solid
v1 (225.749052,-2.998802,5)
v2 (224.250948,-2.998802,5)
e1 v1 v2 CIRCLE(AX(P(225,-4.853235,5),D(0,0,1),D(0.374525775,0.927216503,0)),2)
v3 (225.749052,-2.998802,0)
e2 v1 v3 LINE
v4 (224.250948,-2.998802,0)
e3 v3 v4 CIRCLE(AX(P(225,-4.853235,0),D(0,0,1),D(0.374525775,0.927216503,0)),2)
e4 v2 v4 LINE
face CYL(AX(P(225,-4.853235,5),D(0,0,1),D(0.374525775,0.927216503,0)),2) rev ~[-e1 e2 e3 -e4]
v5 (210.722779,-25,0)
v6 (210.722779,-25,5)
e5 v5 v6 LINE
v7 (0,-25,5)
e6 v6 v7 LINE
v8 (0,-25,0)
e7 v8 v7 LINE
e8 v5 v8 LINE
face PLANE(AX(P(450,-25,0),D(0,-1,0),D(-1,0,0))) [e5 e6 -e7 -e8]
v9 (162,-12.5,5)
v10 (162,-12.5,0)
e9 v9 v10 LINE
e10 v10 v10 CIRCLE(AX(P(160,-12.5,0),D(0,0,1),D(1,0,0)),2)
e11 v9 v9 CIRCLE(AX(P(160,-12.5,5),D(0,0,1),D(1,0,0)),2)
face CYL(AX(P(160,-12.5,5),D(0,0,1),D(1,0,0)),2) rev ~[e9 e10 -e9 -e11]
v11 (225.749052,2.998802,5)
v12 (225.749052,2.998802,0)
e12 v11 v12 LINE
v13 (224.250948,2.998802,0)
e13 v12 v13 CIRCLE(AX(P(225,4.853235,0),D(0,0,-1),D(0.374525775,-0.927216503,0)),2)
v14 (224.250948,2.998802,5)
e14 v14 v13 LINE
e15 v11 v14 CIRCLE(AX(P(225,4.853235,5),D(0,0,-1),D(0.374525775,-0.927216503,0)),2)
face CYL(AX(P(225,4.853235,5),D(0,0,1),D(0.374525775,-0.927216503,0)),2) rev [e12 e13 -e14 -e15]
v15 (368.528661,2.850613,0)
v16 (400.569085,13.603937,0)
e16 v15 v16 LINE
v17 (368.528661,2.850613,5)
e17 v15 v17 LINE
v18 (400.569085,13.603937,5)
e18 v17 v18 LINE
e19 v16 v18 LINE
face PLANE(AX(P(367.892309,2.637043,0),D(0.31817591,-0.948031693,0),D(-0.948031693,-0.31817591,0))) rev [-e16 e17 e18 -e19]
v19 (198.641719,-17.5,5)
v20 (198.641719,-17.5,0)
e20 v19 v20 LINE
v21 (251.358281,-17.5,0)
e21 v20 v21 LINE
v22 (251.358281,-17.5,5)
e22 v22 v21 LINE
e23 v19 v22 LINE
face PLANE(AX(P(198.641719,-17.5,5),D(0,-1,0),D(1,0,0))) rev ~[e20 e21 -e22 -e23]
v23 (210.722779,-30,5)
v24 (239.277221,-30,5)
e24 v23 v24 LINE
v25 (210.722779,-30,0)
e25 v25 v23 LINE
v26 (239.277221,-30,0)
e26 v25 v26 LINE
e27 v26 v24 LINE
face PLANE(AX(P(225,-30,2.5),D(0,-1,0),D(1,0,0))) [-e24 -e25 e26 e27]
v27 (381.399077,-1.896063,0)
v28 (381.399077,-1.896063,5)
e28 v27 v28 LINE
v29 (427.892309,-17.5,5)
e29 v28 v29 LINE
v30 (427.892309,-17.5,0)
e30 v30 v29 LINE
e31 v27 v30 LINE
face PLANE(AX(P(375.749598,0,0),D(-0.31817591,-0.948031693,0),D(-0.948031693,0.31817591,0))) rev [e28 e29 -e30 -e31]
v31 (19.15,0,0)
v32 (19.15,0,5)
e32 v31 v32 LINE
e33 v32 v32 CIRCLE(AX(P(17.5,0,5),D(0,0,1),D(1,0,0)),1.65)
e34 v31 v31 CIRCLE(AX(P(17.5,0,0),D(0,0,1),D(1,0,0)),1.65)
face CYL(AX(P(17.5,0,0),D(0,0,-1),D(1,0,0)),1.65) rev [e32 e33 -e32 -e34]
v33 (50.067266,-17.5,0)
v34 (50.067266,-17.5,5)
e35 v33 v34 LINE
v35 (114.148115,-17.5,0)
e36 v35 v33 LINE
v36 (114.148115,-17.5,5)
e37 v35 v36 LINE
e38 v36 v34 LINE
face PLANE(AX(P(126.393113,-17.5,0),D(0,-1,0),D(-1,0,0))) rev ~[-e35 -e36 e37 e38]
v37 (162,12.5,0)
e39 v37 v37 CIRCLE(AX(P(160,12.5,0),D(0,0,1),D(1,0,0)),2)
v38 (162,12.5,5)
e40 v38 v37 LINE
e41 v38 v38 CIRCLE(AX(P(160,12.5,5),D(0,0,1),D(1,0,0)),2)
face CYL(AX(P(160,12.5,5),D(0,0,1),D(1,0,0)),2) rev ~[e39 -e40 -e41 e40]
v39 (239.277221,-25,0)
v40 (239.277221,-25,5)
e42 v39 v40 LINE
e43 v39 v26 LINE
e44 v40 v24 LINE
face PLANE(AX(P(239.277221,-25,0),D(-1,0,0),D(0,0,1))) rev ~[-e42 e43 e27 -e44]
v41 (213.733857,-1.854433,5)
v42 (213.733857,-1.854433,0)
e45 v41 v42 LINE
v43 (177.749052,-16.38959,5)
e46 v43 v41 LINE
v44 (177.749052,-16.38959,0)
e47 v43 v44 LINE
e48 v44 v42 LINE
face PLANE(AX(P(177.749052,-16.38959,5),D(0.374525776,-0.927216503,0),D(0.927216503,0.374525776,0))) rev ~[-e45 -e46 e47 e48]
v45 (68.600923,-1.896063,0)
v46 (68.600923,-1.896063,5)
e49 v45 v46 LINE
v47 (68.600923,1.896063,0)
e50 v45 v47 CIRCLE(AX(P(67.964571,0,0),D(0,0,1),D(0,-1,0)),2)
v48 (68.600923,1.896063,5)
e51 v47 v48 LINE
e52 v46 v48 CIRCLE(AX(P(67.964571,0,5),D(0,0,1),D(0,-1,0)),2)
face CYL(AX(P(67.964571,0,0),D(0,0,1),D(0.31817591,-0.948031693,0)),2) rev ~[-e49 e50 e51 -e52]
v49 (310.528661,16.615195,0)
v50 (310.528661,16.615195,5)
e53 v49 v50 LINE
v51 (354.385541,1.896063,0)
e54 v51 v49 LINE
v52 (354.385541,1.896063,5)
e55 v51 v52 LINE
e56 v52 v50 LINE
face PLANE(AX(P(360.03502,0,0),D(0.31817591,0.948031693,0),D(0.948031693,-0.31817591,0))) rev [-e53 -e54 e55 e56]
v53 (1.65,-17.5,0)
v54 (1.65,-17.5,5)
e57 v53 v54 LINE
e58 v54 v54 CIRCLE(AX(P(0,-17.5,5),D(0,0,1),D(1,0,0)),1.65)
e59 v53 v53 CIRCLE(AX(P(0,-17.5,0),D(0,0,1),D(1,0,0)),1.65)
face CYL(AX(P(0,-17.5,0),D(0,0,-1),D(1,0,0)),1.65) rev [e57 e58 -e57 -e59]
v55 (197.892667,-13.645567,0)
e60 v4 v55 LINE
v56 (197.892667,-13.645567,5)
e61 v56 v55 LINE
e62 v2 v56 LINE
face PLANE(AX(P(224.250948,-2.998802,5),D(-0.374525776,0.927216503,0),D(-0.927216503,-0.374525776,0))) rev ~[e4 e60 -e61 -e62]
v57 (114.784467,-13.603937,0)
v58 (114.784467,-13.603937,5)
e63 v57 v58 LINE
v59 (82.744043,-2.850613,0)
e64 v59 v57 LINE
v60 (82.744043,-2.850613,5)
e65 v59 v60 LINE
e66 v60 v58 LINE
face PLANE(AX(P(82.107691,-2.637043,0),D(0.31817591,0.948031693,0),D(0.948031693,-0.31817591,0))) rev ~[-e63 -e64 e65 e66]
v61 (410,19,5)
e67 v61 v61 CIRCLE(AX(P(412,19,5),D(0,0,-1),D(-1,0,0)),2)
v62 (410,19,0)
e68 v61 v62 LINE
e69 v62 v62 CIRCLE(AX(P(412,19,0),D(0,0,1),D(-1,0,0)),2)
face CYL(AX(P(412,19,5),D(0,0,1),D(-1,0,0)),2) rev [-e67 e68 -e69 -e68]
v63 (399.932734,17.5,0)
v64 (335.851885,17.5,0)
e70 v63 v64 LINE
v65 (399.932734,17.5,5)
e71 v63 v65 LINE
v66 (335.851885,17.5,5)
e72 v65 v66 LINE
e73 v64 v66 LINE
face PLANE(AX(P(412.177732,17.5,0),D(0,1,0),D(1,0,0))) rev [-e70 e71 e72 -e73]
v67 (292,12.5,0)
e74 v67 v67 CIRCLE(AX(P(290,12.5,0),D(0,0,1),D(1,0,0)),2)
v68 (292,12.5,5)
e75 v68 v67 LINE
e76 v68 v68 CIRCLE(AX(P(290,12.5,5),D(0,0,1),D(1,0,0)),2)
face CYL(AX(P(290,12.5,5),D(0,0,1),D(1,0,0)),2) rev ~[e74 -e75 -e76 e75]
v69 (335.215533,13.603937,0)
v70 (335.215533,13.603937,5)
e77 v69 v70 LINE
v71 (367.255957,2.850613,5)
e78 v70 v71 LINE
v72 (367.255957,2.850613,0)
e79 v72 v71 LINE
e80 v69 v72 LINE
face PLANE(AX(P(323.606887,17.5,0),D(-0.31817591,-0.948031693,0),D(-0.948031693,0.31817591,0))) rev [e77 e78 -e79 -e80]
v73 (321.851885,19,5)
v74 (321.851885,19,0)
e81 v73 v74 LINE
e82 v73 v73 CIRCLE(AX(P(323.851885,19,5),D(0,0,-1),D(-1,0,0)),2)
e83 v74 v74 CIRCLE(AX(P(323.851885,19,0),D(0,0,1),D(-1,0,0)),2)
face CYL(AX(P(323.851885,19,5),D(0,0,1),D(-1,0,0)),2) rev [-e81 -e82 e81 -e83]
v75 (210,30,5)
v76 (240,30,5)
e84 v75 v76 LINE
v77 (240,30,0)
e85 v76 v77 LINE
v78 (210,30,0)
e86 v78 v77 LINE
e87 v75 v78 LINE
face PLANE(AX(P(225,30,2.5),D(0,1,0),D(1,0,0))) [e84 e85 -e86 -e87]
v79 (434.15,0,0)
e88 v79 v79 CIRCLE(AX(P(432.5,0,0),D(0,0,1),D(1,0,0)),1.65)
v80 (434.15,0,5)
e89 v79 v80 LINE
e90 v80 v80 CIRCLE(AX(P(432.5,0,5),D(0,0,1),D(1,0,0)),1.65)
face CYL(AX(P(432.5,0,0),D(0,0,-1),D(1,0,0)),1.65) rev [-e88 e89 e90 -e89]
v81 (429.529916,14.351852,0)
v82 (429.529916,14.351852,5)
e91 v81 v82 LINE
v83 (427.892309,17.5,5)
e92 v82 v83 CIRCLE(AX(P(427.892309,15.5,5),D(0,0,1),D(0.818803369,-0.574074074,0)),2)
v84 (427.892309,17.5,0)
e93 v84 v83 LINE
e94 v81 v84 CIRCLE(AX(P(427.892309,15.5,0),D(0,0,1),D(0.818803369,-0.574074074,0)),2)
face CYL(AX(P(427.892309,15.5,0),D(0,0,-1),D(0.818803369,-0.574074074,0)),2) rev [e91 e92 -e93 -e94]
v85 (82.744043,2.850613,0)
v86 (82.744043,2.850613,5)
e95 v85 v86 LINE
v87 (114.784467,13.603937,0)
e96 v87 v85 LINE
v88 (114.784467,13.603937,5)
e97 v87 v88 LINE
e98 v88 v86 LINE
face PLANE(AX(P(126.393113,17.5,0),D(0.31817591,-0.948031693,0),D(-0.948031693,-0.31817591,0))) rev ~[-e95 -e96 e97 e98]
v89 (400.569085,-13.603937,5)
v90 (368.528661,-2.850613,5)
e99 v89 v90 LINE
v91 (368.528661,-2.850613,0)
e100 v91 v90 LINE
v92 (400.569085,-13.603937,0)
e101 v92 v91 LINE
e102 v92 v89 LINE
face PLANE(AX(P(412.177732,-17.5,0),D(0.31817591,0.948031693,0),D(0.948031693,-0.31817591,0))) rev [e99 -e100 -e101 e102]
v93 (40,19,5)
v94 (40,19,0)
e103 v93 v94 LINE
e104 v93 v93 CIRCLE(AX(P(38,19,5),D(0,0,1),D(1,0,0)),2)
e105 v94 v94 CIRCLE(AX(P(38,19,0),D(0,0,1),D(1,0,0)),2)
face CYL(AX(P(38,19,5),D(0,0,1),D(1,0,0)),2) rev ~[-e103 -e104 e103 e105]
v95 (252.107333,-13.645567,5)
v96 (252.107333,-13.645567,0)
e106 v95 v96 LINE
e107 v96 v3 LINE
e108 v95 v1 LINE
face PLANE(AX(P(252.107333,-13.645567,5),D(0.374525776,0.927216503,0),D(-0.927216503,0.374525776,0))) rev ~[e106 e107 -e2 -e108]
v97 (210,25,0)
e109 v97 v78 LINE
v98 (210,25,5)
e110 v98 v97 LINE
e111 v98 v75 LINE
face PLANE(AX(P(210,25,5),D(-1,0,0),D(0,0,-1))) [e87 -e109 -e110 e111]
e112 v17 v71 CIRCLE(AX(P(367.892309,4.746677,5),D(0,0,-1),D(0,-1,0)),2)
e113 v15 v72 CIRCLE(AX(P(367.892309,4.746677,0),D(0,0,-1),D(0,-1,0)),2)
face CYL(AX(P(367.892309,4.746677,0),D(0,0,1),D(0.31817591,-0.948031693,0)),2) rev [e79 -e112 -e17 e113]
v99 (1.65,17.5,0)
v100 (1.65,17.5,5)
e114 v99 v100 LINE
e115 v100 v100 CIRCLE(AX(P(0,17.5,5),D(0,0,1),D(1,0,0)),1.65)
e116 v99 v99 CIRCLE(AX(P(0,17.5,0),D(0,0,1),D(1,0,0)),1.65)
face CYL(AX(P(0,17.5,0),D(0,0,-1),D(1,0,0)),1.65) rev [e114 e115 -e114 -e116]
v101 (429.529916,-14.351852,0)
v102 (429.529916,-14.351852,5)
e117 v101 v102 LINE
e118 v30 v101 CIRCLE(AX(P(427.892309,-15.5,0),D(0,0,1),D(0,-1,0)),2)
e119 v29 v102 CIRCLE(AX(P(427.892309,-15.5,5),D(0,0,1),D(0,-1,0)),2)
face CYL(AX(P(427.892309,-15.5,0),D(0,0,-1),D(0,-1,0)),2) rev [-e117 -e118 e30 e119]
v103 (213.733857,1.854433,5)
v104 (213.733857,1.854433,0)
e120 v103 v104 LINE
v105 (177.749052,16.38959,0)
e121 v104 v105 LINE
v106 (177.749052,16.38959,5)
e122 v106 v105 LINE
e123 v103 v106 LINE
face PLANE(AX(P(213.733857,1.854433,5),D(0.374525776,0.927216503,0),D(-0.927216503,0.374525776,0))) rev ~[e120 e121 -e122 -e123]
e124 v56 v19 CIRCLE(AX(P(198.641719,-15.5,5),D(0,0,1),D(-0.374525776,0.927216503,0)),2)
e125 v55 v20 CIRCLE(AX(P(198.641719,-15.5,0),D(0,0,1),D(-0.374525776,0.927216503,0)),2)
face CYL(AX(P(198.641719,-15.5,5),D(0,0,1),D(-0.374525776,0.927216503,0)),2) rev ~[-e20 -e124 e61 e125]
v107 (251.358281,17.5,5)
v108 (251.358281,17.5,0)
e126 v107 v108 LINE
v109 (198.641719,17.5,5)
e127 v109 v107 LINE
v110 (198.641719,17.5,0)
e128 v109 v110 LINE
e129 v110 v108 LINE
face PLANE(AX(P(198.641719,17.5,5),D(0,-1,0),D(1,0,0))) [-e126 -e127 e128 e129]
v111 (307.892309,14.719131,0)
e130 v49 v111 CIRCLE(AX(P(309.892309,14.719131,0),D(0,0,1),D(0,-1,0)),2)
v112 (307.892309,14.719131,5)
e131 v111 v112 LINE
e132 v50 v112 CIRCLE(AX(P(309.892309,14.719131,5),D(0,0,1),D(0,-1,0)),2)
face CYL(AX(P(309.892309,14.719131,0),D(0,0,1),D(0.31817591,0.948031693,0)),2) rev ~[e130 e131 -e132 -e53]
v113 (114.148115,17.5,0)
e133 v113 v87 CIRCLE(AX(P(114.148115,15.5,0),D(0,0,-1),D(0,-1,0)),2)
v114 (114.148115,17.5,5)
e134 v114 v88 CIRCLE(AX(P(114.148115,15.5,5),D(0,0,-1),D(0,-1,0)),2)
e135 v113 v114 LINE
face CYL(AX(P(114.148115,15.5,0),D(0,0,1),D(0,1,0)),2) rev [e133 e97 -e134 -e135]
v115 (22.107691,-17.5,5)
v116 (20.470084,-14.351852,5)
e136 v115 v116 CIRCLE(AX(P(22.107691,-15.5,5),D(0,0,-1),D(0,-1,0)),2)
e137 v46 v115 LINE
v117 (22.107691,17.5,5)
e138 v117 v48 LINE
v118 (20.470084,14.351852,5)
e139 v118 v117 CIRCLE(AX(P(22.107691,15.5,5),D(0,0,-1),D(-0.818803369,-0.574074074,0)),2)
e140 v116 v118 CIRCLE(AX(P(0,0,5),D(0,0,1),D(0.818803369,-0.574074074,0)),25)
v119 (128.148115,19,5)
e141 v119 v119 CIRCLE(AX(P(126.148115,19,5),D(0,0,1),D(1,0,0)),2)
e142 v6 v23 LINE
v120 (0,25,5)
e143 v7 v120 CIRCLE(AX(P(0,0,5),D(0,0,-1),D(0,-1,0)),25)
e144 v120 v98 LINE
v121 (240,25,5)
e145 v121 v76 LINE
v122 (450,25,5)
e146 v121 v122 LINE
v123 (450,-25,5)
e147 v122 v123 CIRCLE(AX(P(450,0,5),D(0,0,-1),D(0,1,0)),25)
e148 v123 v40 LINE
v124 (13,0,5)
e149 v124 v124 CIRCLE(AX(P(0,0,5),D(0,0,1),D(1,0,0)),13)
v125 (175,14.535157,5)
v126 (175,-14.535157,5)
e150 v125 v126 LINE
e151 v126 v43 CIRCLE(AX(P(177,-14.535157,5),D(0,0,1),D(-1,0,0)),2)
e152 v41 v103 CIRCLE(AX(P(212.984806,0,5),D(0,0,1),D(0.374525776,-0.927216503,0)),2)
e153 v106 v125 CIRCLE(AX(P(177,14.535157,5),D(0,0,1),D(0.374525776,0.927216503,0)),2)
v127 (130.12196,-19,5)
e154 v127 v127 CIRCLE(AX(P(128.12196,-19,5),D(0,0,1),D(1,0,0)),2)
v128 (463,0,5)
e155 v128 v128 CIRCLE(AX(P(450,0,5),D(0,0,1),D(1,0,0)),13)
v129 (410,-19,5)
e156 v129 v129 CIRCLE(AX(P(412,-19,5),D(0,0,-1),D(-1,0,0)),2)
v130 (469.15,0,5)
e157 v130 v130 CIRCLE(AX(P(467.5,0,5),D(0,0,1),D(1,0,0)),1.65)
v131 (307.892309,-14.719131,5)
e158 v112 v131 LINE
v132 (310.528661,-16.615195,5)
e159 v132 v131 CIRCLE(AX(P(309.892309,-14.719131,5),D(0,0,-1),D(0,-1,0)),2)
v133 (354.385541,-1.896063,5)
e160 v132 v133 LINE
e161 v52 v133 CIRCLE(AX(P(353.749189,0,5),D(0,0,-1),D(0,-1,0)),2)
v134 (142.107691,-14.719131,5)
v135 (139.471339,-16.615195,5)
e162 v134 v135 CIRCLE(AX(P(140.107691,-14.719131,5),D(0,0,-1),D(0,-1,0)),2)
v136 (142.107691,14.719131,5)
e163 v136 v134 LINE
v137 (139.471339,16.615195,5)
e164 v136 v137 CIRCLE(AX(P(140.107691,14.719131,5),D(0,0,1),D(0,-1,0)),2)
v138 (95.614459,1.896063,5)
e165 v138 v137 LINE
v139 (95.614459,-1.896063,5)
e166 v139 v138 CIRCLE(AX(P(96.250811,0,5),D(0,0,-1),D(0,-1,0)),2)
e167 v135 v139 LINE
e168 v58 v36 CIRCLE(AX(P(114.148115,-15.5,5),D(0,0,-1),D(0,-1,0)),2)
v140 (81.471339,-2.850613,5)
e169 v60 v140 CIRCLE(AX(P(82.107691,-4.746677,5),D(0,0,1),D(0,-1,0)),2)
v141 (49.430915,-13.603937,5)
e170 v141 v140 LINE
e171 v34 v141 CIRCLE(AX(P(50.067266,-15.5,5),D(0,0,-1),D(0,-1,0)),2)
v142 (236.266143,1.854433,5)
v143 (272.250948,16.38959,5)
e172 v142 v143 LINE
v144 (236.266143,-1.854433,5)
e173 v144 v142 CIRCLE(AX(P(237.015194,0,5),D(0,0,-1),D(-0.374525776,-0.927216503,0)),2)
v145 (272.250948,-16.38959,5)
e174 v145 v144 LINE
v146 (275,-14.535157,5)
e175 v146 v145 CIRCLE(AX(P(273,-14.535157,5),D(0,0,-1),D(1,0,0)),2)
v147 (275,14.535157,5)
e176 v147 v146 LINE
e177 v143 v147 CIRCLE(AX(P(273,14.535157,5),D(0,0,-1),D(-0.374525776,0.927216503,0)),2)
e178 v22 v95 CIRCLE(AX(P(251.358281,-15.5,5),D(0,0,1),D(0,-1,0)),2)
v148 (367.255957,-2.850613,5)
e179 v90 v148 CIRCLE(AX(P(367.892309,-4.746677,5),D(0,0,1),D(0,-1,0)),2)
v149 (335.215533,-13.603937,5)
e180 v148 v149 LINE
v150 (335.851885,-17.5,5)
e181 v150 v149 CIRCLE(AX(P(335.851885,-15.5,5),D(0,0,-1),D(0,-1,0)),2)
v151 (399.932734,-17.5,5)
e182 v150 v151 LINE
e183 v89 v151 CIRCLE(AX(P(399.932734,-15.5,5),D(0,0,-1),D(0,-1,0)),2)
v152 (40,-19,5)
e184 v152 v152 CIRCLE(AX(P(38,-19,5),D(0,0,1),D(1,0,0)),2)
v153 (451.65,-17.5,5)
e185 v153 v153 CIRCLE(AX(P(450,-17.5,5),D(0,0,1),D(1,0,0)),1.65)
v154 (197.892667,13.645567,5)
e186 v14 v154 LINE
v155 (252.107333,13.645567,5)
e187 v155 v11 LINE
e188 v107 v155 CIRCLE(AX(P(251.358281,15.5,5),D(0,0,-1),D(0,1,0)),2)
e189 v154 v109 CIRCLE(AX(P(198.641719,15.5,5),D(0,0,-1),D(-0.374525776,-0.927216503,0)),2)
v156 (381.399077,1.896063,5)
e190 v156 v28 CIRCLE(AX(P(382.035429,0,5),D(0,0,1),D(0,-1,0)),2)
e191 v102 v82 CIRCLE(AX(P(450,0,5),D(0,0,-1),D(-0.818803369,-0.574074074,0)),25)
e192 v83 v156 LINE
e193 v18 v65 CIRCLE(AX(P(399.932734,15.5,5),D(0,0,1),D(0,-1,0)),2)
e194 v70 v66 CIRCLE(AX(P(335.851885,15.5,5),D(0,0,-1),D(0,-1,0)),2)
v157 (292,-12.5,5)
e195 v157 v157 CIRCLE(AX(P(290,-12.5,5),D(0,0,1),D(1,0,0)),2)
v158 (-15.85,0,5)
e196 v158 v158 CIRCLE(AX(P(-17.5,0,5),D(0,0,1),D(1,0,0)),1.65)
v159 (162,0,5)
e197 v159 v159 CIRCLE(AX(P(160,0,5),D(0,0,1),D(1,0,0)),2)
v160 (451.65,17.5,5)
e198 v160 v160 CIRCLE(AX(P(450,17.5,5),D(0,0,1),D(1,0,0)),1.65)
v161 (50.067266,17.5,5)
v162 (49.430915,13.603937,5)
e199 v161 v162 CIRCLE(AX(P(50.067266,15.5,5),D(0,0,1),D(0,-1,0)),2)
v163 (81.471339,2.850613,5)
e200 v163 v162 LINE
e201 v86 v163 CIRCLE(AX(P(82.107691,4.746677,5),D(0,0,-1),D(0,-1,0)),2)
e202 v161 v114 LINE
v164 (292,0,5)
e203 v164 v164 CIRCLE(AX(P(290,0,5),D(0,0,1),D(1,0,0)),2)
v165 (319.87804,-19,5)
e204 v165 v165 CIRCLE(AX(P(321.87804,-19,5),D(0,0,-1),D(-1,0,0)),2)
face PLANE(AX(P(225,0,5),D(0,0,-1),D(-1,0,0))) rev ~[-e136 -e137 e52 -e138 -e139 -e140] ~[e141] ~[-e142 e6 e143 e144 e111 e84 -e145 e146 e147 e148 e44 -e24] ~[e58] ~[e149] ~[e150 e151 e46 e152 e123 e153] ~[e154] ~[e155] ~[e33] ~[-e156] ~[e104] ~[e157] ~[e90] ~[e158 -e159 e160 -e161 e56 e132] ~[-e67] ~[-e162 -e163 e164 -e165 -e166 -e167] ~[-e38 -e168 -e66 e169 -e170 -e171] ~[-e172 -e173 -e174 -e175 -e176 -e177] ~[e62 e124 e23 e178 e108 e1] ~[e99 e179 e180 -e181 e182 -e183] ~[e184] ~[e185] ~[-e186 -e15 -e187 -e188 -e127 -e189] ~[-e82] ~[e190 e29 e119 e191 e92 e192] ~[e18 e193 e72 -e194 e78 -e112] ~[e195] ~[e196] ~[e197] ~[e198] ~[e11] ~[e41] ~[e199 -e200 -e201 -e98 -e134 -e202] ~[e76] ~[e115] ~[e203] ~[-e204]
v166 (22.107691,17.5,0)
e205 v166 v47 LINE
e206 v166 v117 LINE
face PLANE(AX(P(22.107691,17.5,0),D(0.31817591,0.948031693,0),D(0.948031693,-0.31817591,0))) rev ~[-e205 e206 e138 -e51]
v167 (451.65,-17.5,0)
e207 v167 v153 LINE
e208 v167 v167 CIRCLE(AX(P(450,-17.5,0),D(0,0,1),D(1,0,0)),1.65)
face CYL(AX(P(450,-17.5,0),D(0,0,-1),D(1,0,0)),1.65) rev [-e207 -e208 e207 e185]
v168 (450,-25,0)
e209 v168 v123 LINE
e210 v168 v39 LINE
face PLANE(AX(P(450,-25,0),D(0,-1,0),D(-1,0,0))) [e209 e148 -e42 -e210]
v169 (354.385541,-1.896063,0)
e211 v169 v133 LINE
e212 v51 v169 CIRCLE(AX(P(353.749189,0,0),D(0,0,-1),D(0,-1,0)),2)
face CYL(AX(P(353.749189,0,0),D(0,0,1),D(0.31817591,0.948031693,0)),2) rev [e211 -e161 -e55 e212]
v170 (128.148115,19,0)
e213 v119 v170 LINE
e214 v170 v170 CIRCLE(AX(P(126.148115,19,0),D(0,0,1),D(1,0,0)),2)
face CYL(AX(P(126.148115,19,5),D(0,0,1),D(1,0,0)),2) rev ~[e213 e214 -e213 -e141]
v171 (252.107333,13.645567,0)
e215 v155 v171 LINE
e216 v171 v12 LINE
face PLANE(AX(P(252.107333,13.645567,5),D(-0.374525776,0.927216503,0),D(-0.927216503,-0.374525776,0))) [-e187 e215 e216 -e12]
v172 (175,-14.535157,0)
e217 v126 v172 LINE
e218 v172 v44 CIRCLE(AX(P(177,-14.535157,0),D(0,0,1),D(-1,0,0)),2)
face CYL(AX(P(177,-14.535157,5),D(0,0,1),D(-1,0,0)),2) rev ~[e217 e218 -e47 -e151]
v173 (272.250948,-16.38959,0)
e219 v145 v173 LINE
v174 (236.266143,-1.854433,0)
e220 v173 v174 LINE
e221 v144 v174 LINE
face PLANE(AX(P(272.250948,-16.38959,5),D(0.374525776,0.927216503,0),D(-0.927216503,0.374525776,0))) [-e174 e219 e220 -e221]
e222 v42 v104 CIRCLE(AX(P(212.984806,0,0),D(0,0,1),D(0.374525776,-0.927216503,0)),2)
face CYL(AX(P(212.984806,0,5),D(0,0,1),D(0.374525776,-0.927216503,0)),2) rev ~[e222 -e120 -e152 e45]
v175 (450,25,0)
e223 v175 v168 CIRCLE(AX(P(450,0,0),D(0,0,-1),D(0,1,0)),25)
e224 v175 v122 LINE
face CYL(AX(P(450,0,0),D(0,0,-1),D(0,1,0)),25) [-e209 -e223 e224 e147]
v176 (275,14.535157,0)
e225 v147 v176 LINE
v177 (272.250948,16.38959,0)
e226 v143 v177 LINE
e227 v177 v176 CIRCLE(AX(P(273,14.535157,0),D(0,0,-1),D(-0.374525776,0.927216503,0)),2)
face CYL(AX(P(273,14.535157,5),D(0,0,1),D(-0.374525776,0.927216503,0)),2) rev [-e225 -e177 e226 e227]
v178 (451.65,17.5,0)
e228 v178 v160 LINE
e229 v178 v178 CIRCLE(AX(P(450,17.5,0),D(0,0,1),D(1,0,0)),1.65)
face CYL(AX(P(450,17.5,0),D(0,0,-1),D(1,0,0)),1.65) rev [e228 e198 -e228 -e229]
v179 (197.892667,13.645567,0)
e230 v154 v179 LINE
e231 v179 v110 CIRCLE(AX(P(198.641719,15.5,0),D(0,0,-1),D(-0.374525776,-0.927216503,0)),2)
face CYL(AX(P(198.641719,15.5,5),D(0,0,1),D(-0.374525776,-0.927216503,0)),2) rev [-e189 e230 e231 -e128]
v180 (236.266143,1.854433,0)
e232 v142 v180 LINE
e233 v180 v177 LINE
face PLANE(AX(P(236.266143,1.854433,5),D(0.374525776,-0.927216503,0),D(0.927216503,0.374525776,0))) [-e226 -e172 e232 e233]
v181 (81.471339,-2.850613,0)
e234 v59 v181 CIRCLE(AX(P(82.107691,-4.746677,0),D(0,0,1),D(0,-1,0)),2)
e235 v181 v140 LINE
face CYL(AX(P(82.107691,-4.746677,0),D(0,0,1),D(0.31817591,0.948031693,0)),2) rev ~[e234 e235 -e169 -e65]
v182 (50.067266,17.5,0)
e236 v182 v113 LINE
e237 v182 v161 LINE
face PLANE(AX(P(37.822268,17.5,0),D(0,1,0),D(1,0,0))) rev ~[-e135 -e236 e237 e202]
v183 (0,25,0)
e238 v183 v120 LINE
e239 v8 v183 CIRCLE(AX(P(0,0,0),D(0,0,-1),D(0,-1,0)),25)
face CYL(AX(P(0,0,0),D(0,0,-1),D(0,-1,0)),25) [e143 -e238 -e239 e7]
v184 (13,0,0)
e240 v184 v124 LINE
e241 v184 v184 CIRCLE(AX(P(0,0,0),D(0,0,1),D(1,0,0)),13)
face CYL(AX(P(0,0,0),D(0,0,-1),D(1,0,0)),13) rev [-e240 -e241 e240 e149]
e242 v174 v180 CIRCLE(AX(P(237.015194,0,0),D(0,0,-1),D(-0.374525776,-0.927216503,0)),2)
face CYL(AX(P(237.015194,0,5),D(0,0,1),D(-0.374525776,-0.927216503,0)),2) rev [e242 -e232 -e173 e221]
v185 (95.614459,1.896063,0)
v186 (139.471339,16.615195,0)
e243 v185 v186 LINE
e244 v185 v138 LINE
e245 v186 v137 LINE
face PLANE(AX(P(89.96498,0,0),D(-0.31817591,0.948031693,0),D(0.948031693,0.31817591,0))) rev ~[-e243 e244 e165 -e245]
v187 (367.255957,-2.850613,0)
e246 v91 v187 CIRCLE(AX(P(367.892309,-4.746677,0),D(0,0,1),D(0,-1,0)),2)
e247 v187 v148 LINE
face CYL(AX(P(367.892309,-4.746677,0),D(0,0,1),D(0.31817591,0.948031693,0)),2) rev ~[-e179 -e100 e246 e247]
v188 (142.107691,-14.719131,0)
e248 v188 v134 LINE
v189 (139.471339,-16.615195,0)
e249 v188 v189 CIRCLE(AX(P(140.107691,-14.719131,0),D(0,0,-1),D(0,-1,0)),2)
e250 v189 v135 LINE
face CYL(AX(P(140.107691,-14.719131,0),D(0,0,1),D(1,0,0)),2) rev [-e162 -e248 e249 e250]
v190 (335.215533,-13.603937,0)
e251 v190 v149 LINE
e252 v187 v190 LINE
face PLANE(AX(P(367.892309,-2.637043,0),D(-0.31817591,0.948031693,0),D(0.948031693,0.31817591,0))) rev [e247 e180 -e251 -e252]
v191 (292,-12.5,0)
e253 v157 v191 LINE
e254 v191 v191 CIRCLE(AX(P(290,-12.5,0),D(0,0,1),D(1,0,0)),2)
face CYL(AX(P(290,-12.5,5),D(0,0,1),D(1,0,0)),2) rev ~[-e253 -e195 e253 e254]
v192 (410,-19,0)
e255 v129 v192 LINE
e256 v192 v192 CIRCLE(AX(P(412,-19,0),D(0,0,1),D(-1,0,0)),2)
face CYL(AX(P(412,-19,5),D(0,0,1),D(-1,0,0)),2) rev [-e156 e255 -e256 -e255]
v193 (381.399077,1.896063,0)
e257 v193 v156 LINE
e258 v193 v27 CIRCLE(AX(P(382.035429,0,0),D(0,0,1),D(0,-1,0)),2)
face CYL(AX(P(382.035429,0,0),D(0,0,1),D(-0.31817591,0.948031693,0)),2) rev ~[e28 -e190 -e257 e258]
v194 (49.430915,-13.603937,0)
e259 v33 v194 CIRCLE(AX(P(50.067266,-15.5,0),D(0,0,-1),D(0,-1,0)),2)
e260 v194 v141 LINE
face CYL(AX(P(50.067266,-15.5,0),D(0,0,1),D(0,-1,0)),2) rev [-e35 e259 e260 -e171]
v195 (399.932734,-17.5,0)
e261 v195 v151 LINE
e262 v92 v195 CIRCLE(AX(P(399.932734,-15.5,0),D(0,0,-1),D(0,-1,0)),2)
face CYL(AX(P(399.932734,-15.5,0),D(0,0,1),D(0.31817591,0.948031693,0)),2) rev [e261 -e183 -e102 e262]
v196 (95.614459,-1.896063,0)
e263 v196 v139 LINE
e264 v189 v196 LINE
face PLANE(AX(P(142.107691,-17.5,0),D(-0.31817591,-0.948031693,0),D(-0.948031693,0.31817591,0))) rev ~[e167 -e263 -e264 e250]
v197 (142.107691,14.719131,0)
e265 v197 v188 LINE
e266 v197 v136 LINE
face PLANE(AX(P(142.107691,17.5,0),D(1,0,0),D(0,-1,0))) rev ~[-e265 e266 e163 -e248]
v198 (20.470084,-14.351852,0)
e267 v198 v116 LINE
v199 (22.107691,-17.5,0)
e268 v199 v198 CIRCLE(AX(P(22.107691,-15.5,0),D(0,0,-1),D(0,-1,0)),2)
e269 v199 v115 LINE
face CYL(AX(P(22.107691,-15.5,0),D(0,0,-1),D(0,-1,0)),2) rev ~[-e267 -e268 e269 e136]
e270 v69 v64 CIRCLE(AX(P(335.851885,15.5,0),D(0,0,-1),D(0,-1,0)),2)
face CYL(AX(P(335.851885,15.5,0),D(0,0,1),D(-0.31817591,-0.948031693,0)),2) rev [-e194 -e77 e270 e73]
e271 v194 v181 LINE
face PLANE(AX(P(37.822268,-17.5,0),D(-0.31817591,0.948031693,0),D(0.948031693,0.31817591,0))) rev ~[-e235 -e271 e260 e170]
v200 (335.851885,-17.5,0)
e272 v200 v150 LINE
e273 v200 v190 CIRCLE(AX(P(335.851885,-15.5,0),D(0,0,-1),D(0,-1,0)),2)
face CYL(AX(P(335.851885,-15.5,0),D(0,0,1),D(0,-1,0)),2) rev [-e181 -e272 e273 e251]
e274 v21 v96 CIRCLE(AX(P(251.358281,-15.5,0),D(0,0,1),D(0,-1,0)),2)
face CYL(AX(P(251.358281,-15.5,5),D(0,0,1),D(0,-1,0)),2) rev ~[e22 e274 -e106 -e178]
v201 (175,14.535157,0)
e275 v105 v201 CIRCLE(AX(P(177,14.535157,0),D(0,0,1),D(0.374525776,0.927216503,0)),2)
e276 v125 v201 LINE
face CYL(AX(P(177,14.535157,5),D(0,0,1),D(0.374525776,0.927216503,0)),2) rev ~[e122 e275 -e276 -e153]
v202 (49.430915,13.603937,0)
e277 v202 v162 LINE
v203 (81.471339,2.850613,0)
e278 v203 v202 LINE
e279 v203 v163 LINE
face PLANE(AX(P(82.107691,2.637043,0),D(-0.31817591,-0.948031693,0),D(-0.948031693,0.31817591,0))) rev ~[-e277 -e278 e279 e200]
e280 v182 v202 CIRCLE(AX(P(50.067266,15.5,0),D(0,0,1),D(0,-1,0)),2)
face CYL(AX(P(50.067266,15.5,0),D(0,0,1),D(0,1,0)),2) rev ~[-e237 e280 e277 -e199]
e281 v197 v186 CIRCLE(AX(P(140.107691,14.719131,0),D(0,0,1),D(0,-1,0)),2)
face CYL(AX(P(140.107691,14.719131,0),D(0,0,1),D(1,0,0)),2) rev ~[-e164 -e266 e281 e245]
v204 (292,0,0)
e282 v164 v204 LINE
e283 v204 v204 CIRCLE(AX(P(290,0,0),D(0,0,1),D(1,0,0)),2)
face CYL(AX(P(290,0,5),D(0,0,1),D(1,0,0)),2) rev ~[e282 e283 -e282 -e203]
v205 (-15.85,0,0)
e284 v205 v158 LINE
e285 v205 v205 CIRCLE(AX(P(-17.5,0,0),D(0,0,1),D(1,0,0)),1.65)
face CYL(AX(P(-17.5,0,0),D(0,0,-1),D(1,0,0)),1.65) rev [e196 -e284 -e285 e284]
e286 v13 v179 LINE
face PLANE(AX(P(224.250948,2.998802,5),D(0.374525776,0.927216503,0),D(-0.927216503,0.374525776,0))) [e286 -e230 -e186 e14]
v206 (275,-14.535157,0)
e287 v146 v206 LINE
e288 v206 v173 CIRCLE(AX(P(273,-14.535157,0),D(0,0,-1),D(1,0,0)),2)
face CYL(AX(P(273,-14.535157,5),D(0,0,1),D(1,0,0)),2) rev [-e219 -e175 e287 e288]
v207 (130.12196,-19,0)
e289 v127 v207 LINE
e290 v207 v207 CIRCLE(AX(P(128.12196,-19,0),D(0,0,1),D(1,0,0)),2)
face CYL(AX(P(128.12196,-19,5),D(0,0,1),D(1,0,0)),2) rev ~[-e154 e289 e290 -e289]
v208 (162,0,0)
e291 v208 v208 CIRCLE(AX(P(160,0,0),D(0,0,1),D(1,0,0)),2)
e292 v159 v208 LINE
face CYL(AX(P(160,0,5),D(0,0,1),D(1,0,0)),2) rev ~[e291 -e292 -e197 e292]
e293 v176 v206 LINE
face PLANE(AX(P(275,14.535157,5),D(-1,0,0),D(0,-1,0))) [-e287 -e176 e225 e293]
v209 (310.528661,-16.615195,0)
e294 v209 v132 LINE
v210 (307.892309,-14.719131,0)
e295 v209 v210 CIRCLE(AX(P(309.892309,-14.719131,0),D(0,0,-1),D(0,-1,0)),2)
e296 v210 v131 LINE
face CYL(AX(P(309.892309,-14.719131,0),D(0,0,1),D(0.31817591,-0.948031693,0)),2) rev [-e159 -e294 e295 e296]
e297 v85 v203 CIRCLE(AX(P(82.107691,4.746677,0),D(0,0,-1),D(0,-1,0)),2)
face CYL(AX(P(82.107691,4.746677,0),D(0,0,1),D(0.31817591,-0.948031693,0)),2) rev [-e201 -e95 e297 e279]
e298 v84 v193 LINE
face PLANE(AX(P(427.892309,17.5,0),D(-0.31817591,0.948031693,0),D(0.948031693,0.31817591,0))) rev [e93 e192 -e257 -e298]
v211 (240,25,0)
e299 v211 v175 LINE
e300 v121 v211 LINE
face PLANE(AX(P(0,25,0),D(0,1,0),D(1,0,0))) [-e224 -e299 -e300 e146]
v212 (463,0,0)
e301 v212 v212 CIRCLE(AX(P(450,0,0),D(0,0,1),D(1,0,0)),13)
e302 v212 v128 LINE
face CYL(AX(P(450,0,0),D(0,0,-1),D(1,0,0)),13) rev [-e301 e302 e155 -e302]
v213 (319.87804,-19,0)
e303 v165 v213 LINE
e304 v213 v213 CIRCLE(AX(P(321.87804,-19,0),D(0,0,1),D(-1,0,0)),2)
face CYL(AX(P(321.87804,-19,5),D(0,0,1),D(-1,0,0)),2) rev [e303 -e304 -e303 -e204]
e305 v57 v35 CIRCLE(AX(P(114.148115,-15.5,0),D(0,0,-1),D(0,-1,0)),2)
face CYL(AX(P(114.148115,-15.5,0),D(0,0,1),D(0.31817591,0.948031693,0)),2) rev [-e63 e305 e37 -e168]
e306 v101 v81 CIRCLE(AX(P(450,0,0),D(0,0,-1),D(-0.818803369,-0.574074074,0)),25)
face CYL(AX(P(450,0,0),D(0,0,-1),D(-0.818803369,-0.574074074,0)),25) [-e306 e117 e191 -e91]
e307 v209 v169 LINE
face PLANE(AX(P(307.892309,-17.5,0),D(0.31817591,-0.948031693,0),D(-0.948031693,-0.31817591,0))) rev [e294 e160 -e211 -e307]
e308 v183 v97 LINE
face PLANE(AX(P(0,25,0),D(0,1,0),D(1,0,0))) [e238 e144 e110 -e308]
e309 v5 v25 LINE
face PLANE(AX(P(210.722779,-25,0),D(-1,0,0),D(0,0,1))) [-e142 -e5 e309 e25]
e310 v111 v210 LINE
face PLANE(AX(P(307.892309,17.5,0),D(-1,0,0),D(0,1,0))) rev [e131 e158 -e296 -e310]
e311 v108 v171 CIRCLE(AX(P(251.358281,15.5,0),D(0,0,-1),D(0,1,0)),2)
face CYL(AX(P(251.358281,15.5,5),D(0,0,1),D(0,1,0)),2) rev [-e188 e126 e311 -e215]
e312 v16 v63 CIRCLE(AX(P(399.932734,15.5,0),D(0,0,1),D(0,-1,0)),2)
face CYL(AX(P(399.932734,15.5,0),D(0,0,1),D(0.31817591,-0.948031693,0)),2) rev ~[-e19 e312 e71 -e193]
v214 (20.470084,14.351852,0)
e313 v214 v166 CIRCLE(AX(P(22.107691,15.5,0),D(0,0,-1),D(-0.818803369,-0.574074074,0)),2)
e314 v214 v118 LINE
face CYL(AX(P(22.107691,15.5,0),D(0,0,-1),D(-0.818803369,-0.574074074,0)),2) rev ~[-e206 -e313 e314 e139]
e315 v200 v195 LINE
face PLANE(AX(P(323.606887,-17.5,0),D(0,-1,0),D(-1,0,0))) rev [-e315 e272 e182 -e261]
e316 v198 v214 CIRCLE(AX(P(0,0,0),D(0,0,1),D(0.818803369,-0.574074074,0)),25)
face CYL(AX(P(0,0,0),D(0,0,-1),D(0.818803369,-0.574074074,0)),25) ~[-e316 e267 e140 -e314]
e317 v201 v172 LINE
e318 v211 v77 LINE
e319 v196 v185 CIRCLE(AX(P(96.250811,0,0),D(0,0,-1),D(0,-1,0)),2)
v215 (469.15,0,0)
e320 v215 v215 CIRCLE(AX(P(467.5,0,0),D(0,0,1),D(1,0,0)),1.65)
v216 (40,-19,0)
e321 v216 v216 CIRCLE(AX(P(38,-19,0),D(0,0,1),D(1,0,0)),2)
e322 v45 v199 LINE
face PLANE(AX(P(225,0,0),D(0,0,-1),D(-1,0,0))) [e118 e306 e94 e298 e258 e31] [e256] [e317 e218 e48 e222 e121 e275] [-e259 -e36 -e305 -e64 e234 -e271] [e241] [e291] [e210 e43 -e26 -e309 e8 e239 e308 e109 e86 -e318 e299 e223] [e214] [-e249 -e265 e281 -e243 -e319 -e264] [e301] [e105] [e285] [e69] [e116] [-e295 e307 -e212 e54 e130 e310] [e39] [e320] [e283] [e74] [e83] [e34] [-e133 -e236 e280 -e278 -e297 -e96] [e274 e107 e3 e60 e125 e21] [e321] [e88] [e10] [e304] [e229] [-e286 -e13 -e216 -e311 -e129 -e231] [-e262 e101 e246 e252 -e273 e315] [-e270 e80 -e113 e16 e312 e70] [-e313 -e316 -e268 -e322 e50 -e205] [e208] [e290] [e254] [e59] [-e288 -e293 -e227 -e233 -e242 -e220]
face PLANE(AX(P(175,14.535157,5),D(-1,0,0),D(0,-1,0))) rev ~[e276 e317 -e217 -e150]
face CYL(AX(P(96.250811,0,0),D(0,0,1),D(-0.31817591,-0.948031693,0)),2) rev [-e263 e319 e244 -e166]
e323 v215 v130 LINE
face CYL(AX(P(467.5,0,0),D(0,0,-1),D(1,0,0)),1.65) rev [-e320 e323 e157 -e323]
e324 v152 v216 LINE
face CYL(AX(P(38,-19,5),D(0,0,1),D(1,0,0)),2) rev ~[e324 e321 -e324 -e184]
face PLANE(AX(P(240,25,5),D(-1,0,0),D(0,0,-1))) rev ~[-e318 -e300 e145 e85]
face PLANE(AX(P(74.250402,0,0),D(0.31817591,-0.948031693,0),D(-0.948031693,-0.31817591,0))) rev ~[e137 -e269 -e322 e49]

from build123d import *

# Parameters (mm, degrees)
SKETCH_1_R          = 13
SKETCH_1_R_2        = 1.65
EXTRUDE_1_DEPTH     = 5
SKETCH_2_R          = 2
CUT_EXTRUDE_2_DEPTH = 5
CUT_EXTRUDE_START   = -5
CUT_EXTRUDE_3_DEPTH = 5
FILLET_1_R          = 2
FILLET_2_R          = 2
FILLET_3_R          = 2
CUT_EXTRUDE_5_DEPTH = 5
SKETCH_9_R          = 2
CUT_EXTRUDE_6_DEPTH = 10
SKETCH_10_R         = 2
CUT_EXTRUDE_7_DEPTH = 10
SKETCH_11_W         = 30
SKETCH_11_H         = 5
EXTRUDE_2_DEPTH     = 5
SKETCH_12_W         = 28.554441288
SKETCH_12_H         = 5
EXTRUDE_3_DEPTH     = 5


with BuildPart() as part:
    # 草图1 → 凸台-拉伸1 (new body)
    with BuildSketch(Plane.XY):
        with BuildLine():
            Line((0, 25), (450, 25))
            ThreePointArc((450, 25), (475, 0), (450, -25))
            Line((450, -25), (0, -25))
            ThreePointArc((0, -25), (-25, 0), (0, 25))
        make_face()
        Circle(SKETCH_1_R, mode=Mode.SUBTRACT)
        with Locations((17.5, 0)):
            Circle(SKETCH_1_R_2, mode=Mode.SUBTRACT)
        with Locations((0, -17.5)):
            Circle(SKETCH_1_R_2, mode=Mode.SUBTRACT)
        with Locations((-17.5, 0)):
            Circle(SKETCH_1_R_2, mode=Mode.SUBTRACT)
        with Locations((0, 17.5)):
            Circle(SKETCH_1_R_2, mode=Mode.SUBTRACT)
        with Locations((450, 0)):
            Circle(SKETCH_1_R, mode=Mode.SUBTRACT)
        with Locations((432.5, 0)):
            Circle(SKETCH_1_R_2, mode=Mode.SUBTRACT)
        with Locations((450, 17.5)):
            Circle(SKETCH_1_R_2, mode=Mode.SUBTRACT)
        with Locations((450, -17.5)):
            Circle(SKETCH_1_R_2, mode=Mode.SUBTRACT)
        with Locations((467.5, 0)):
            Circle(SKETCH_1_R_2, mode=Mode.SUBTRACT)
    extrude(amount=EXTRUDE_1_DEPTH)

    # 草图2 → 切除-拉伸2 (cut)
    with BuildSketch(Plane.XY.offset(5)):
        with Locations((290, 12.5)):
            Circle(SKETCH_2_R)
        with Locations((290, 0)):
            Circle(SKETCH_2_R)
        with Locations((290, -12.5)):
            Circle(SKETCH_2_R)
        with Locations((160, 12.5)):
            Circle(SKETCH_2_R)
        with Locations((160, 0)):
            Circle(SKETCH_2_R)
        with Locations((160, -12.5)):
            Circle(SKETCH_2_R)
    extrude(amount=-CUT_EXTRUDE_2_DEPTH, mode=Mode.SUBTRACT)

    # 草图4 → 切除-拉伸3 (cut)
    with BuildSketch(Plane.XY.offset(5).offset(CUT_EXTRUDE_START)):
        with BuildLine():
            Line((74.250402222, 0), (22.107690969, -17.5))
            ThreePointArc((22.107690969, -17.5), (20.333388811, -16.422958207), (20.470084231, -14.351851852))
            ThreePointArc((20.470084231, -14.351851852), (25, 0), (20.470084231, 14.351851852))
            ThreePointArc((20.470084231, 14.351851852), (20.333388811, 16.422958207), (22.107690969, 17.5))
            Line((22.107690969, 17.5), (74.250402222, 0))
        make_face()
        Polygon((82.107690969, -2.637042643), (126.393113474, -17.5), (37.822268465, -17.5), align=None)
        Polygon((37.822268465, 17.5), (126.393113474, 17.5), (82.107690969, 2.637042643), align=None)
        Polygon((142.107690969, 17.5), (142.107690969, -17.5), (89.964979717, 0), align=None)
    cut_extrude_3 = extrude(amount=CUT_EXTRUDE_3_DEPTH, mode=Mode.SUBTRACT)

    # 圆角1
    fillet_1_edges = [part.edges().sort_by_distance(p)[0] for p in [
        (142.107690969, 17.5, 2.5),
    ]]
    fillet(fillet_1_edges, radius=FILLET_1_R)

    # 圆角2
    fillet_2_edges = [part.edges().sort_by_distance(p)[0] for p in [
        (37.822268465, -17.5, 2.5),
        (82.107690969, -2.637042643, 2.5),
        (126.393113474, -17.5, 2.5),
        (89.964979717, 0, 2.5),
        (142.107690969, -17.5, 2.5),
        (126.393113474, 17.5, 2.5),
        (82.107690969, 2.637042643, 2.5),
        (37.822268465, 17.5, 2.5),
        (74.250402222, 0, 2.5),
    ]]
    fillet(fillet_2_edges, radius=FILLET_2_R)

    # 镜向1: 切除-拉伸3 across plane
    add(cut_extrude_3.mirror(Plane(origin=(225, 0, 0), x_dir=(0, 0, 1), z_dir=(1, 0, 0))), mode=Mode.SUBTRACT)

    # 圆角3
    fillet_3_edges = [part.edges().sort_by_distance(p)[0] for p in [
        (375.749597778, 0, 2.5),
        (367.892309031, -2.637042643, 2.5),
        (412.177731535, -17.5, 2.5),
        (323.606886526, -17.5, 2.5),
        (307.892309031, 17.5, 2.5),
        (360.035020283, 0, 2.5),
        (307.892309031, -17.5, 2.5),
        (367.892309031, 2.637042643, 2.5),
        (323.606886526, 17.5, 2.5),
        (412.177731535, 17.5, 2.5),
    ]]
    fillet(fillet_3_edges, radius=FILLET_3_R)

    # 草图8 → 切除-拉伸5 (cut)
    with BuildSketch(Plane.XY.offset(5)):
        with BuildLine():
            Line((198.641718603, 17.5), (251.358281397, 17.5))
            ThreePointArc((251.358281397, 17.5), (253.321552393, 15.881532429), (252.107332949, 13.645566994))
            Line((252.107332949, 13.645566994), (225.749051552, 2.998802443))
            ThreePointArc((225.749051552, 2.998802443), (225, 2.853235449), (224.250948448, 2.998802443))
            Line((224.250948448, 2.998802443), (197.892667051, 13.645566994))
            ThreePointArc((197.892667051, 13.645566994), (196.678447607, 15.881532429), (198.641718603, 17.5))
        make_face()
        with BuildLine():
            Line((175, 14.535156791), (175, -14.535156791))
            ThreePointArc((175, -14.535156791), (175.881541933, -16.193183193), (177.749051552, -16.389589796))
            Line((177.749051552, -16.389589796), (213.733857169, -1.854433006))
            ThreePointArc((213.733857169, -1.854433006), (214.984805617, 0), (213.733857169, 1.854433006))
            Line((213.733857169, 1.854433006), (177.749051552, 16.389589796))
            ThreePointArc((177.749051552, 16.389589796), (175.881541933, 16.193183193), (175, 14.535156791))
        make_face()
        with BuildLine():
            Line((198.641718603, -17.5), (251.358281397, -17.5))
            ThreePointArc((251.358281397, -17.5), (253.321552393, -15.881532429), (252.107332949, -13.645566994))
            Line((252.107332949, -13.645566994), (225.749051552, -2.998802443))
            ThreePointArc((225.749051552, -2.998802443), (225, -2.853235449), (224.250948448, -2.998802443))
            Line((224.250948448, -2.998802443), (197.892667051, -13.645566994))
            ThreePointArc((197.892667051, -13.645566994), (196.678447607, -15.881532429), (198.641718603, -17.5))
        make_face()
        with BuildLine():
            Line((275, 14.535156791), (275, -14.535156791))
            ThreePointArc((275, -14.535156791), (274.118458067, -16.193183193), (272.250948448, -16.389589796))
            Line((272.250948448, -16.389589796), (236.266142831, -1.854433006))
            ThreePointArc((236.266142831, -1.854433006), (235.015194383, 0), (236.266142831, 1.854433006))
            Line((236.266142831, 1.854433006), (272.250948448, 16.389589796))
            ThreePointArc((272.250948448, 16.389589796), (274.118458067, 16.193183193), (275, 14.535156791))
        make_face()
    extrude(amount=-CUT_EXTRUDE_5_DEPTH, mode=Mode.SUBTRACT)

    # 草图9 → 切除-拉伸6 (cut)
    with BuildSketch(Plane.XY.offset(5)):
        with Locations((38, 19)):
            Circle(SKETCH_9_R)
        with Locations((38, -19)):
            Circle(SKETCH_9_R)
    cut_extrude_6 = extrude(amount=-CUT_EXTRUDE_6_DEPTH, mode=Mode.SUBTRACT)

    # 镜向2: 切除-拉伸6 across plane
    add(cut_extrude_6.mirror(Plane(origin=(225, 0, 0), x_dir=(0, 0, 1), z_dir=(1, 0, 0))), mode=Mode.SUBTRACT)

    # 草图10 → 切除-拉伸7 (cut)
    with BuildSketch(Plane.XY.offset(5)):
        with Locations((126.148115476, 19)):
            Circle(SKETCH_10_R)
        with Locations((128.121960299, -19)):
            Circle(SKETCH_10_R)
    cut_extrude_7 = extrude(amount=-CUT_EXTRUDE_7_DEPTH, mode=Mode.SUBTRACT)

    # 镜向3: 切除-拉伸7 across plane
    add(cut_extrude_7.mirror(Plane(origin=(225, 0, 0), x_dir=(0, 0, 1), z_dir=(1, 0, 0))), mode=Mode.SUBTRACT)

    # 草图11 → 凸台-拉伸2 (add)
    with BuildSketch(Plane(origin=(0, 25, 0), x_dir=(1, 0, 0), z_dir=(0, 1, 0))):
        with Locations((225, -2.5)):
            Rectangle(SKETCH_11_W, SKETCH_11_H)
    extrude(amount=EXTRUDE_2_DEPTH)

    # 草图12 → 凸台-拉伸3 (add)
    with BuildSketch(Plane.XZ.offset(25)):
        with Locations((225, 2.5)):
            Rectangle(SKETCH_12_W, SKETCH_12_H)
    extrude(amount=EXTRUDE_3_DEPTH)


solid = part.part
